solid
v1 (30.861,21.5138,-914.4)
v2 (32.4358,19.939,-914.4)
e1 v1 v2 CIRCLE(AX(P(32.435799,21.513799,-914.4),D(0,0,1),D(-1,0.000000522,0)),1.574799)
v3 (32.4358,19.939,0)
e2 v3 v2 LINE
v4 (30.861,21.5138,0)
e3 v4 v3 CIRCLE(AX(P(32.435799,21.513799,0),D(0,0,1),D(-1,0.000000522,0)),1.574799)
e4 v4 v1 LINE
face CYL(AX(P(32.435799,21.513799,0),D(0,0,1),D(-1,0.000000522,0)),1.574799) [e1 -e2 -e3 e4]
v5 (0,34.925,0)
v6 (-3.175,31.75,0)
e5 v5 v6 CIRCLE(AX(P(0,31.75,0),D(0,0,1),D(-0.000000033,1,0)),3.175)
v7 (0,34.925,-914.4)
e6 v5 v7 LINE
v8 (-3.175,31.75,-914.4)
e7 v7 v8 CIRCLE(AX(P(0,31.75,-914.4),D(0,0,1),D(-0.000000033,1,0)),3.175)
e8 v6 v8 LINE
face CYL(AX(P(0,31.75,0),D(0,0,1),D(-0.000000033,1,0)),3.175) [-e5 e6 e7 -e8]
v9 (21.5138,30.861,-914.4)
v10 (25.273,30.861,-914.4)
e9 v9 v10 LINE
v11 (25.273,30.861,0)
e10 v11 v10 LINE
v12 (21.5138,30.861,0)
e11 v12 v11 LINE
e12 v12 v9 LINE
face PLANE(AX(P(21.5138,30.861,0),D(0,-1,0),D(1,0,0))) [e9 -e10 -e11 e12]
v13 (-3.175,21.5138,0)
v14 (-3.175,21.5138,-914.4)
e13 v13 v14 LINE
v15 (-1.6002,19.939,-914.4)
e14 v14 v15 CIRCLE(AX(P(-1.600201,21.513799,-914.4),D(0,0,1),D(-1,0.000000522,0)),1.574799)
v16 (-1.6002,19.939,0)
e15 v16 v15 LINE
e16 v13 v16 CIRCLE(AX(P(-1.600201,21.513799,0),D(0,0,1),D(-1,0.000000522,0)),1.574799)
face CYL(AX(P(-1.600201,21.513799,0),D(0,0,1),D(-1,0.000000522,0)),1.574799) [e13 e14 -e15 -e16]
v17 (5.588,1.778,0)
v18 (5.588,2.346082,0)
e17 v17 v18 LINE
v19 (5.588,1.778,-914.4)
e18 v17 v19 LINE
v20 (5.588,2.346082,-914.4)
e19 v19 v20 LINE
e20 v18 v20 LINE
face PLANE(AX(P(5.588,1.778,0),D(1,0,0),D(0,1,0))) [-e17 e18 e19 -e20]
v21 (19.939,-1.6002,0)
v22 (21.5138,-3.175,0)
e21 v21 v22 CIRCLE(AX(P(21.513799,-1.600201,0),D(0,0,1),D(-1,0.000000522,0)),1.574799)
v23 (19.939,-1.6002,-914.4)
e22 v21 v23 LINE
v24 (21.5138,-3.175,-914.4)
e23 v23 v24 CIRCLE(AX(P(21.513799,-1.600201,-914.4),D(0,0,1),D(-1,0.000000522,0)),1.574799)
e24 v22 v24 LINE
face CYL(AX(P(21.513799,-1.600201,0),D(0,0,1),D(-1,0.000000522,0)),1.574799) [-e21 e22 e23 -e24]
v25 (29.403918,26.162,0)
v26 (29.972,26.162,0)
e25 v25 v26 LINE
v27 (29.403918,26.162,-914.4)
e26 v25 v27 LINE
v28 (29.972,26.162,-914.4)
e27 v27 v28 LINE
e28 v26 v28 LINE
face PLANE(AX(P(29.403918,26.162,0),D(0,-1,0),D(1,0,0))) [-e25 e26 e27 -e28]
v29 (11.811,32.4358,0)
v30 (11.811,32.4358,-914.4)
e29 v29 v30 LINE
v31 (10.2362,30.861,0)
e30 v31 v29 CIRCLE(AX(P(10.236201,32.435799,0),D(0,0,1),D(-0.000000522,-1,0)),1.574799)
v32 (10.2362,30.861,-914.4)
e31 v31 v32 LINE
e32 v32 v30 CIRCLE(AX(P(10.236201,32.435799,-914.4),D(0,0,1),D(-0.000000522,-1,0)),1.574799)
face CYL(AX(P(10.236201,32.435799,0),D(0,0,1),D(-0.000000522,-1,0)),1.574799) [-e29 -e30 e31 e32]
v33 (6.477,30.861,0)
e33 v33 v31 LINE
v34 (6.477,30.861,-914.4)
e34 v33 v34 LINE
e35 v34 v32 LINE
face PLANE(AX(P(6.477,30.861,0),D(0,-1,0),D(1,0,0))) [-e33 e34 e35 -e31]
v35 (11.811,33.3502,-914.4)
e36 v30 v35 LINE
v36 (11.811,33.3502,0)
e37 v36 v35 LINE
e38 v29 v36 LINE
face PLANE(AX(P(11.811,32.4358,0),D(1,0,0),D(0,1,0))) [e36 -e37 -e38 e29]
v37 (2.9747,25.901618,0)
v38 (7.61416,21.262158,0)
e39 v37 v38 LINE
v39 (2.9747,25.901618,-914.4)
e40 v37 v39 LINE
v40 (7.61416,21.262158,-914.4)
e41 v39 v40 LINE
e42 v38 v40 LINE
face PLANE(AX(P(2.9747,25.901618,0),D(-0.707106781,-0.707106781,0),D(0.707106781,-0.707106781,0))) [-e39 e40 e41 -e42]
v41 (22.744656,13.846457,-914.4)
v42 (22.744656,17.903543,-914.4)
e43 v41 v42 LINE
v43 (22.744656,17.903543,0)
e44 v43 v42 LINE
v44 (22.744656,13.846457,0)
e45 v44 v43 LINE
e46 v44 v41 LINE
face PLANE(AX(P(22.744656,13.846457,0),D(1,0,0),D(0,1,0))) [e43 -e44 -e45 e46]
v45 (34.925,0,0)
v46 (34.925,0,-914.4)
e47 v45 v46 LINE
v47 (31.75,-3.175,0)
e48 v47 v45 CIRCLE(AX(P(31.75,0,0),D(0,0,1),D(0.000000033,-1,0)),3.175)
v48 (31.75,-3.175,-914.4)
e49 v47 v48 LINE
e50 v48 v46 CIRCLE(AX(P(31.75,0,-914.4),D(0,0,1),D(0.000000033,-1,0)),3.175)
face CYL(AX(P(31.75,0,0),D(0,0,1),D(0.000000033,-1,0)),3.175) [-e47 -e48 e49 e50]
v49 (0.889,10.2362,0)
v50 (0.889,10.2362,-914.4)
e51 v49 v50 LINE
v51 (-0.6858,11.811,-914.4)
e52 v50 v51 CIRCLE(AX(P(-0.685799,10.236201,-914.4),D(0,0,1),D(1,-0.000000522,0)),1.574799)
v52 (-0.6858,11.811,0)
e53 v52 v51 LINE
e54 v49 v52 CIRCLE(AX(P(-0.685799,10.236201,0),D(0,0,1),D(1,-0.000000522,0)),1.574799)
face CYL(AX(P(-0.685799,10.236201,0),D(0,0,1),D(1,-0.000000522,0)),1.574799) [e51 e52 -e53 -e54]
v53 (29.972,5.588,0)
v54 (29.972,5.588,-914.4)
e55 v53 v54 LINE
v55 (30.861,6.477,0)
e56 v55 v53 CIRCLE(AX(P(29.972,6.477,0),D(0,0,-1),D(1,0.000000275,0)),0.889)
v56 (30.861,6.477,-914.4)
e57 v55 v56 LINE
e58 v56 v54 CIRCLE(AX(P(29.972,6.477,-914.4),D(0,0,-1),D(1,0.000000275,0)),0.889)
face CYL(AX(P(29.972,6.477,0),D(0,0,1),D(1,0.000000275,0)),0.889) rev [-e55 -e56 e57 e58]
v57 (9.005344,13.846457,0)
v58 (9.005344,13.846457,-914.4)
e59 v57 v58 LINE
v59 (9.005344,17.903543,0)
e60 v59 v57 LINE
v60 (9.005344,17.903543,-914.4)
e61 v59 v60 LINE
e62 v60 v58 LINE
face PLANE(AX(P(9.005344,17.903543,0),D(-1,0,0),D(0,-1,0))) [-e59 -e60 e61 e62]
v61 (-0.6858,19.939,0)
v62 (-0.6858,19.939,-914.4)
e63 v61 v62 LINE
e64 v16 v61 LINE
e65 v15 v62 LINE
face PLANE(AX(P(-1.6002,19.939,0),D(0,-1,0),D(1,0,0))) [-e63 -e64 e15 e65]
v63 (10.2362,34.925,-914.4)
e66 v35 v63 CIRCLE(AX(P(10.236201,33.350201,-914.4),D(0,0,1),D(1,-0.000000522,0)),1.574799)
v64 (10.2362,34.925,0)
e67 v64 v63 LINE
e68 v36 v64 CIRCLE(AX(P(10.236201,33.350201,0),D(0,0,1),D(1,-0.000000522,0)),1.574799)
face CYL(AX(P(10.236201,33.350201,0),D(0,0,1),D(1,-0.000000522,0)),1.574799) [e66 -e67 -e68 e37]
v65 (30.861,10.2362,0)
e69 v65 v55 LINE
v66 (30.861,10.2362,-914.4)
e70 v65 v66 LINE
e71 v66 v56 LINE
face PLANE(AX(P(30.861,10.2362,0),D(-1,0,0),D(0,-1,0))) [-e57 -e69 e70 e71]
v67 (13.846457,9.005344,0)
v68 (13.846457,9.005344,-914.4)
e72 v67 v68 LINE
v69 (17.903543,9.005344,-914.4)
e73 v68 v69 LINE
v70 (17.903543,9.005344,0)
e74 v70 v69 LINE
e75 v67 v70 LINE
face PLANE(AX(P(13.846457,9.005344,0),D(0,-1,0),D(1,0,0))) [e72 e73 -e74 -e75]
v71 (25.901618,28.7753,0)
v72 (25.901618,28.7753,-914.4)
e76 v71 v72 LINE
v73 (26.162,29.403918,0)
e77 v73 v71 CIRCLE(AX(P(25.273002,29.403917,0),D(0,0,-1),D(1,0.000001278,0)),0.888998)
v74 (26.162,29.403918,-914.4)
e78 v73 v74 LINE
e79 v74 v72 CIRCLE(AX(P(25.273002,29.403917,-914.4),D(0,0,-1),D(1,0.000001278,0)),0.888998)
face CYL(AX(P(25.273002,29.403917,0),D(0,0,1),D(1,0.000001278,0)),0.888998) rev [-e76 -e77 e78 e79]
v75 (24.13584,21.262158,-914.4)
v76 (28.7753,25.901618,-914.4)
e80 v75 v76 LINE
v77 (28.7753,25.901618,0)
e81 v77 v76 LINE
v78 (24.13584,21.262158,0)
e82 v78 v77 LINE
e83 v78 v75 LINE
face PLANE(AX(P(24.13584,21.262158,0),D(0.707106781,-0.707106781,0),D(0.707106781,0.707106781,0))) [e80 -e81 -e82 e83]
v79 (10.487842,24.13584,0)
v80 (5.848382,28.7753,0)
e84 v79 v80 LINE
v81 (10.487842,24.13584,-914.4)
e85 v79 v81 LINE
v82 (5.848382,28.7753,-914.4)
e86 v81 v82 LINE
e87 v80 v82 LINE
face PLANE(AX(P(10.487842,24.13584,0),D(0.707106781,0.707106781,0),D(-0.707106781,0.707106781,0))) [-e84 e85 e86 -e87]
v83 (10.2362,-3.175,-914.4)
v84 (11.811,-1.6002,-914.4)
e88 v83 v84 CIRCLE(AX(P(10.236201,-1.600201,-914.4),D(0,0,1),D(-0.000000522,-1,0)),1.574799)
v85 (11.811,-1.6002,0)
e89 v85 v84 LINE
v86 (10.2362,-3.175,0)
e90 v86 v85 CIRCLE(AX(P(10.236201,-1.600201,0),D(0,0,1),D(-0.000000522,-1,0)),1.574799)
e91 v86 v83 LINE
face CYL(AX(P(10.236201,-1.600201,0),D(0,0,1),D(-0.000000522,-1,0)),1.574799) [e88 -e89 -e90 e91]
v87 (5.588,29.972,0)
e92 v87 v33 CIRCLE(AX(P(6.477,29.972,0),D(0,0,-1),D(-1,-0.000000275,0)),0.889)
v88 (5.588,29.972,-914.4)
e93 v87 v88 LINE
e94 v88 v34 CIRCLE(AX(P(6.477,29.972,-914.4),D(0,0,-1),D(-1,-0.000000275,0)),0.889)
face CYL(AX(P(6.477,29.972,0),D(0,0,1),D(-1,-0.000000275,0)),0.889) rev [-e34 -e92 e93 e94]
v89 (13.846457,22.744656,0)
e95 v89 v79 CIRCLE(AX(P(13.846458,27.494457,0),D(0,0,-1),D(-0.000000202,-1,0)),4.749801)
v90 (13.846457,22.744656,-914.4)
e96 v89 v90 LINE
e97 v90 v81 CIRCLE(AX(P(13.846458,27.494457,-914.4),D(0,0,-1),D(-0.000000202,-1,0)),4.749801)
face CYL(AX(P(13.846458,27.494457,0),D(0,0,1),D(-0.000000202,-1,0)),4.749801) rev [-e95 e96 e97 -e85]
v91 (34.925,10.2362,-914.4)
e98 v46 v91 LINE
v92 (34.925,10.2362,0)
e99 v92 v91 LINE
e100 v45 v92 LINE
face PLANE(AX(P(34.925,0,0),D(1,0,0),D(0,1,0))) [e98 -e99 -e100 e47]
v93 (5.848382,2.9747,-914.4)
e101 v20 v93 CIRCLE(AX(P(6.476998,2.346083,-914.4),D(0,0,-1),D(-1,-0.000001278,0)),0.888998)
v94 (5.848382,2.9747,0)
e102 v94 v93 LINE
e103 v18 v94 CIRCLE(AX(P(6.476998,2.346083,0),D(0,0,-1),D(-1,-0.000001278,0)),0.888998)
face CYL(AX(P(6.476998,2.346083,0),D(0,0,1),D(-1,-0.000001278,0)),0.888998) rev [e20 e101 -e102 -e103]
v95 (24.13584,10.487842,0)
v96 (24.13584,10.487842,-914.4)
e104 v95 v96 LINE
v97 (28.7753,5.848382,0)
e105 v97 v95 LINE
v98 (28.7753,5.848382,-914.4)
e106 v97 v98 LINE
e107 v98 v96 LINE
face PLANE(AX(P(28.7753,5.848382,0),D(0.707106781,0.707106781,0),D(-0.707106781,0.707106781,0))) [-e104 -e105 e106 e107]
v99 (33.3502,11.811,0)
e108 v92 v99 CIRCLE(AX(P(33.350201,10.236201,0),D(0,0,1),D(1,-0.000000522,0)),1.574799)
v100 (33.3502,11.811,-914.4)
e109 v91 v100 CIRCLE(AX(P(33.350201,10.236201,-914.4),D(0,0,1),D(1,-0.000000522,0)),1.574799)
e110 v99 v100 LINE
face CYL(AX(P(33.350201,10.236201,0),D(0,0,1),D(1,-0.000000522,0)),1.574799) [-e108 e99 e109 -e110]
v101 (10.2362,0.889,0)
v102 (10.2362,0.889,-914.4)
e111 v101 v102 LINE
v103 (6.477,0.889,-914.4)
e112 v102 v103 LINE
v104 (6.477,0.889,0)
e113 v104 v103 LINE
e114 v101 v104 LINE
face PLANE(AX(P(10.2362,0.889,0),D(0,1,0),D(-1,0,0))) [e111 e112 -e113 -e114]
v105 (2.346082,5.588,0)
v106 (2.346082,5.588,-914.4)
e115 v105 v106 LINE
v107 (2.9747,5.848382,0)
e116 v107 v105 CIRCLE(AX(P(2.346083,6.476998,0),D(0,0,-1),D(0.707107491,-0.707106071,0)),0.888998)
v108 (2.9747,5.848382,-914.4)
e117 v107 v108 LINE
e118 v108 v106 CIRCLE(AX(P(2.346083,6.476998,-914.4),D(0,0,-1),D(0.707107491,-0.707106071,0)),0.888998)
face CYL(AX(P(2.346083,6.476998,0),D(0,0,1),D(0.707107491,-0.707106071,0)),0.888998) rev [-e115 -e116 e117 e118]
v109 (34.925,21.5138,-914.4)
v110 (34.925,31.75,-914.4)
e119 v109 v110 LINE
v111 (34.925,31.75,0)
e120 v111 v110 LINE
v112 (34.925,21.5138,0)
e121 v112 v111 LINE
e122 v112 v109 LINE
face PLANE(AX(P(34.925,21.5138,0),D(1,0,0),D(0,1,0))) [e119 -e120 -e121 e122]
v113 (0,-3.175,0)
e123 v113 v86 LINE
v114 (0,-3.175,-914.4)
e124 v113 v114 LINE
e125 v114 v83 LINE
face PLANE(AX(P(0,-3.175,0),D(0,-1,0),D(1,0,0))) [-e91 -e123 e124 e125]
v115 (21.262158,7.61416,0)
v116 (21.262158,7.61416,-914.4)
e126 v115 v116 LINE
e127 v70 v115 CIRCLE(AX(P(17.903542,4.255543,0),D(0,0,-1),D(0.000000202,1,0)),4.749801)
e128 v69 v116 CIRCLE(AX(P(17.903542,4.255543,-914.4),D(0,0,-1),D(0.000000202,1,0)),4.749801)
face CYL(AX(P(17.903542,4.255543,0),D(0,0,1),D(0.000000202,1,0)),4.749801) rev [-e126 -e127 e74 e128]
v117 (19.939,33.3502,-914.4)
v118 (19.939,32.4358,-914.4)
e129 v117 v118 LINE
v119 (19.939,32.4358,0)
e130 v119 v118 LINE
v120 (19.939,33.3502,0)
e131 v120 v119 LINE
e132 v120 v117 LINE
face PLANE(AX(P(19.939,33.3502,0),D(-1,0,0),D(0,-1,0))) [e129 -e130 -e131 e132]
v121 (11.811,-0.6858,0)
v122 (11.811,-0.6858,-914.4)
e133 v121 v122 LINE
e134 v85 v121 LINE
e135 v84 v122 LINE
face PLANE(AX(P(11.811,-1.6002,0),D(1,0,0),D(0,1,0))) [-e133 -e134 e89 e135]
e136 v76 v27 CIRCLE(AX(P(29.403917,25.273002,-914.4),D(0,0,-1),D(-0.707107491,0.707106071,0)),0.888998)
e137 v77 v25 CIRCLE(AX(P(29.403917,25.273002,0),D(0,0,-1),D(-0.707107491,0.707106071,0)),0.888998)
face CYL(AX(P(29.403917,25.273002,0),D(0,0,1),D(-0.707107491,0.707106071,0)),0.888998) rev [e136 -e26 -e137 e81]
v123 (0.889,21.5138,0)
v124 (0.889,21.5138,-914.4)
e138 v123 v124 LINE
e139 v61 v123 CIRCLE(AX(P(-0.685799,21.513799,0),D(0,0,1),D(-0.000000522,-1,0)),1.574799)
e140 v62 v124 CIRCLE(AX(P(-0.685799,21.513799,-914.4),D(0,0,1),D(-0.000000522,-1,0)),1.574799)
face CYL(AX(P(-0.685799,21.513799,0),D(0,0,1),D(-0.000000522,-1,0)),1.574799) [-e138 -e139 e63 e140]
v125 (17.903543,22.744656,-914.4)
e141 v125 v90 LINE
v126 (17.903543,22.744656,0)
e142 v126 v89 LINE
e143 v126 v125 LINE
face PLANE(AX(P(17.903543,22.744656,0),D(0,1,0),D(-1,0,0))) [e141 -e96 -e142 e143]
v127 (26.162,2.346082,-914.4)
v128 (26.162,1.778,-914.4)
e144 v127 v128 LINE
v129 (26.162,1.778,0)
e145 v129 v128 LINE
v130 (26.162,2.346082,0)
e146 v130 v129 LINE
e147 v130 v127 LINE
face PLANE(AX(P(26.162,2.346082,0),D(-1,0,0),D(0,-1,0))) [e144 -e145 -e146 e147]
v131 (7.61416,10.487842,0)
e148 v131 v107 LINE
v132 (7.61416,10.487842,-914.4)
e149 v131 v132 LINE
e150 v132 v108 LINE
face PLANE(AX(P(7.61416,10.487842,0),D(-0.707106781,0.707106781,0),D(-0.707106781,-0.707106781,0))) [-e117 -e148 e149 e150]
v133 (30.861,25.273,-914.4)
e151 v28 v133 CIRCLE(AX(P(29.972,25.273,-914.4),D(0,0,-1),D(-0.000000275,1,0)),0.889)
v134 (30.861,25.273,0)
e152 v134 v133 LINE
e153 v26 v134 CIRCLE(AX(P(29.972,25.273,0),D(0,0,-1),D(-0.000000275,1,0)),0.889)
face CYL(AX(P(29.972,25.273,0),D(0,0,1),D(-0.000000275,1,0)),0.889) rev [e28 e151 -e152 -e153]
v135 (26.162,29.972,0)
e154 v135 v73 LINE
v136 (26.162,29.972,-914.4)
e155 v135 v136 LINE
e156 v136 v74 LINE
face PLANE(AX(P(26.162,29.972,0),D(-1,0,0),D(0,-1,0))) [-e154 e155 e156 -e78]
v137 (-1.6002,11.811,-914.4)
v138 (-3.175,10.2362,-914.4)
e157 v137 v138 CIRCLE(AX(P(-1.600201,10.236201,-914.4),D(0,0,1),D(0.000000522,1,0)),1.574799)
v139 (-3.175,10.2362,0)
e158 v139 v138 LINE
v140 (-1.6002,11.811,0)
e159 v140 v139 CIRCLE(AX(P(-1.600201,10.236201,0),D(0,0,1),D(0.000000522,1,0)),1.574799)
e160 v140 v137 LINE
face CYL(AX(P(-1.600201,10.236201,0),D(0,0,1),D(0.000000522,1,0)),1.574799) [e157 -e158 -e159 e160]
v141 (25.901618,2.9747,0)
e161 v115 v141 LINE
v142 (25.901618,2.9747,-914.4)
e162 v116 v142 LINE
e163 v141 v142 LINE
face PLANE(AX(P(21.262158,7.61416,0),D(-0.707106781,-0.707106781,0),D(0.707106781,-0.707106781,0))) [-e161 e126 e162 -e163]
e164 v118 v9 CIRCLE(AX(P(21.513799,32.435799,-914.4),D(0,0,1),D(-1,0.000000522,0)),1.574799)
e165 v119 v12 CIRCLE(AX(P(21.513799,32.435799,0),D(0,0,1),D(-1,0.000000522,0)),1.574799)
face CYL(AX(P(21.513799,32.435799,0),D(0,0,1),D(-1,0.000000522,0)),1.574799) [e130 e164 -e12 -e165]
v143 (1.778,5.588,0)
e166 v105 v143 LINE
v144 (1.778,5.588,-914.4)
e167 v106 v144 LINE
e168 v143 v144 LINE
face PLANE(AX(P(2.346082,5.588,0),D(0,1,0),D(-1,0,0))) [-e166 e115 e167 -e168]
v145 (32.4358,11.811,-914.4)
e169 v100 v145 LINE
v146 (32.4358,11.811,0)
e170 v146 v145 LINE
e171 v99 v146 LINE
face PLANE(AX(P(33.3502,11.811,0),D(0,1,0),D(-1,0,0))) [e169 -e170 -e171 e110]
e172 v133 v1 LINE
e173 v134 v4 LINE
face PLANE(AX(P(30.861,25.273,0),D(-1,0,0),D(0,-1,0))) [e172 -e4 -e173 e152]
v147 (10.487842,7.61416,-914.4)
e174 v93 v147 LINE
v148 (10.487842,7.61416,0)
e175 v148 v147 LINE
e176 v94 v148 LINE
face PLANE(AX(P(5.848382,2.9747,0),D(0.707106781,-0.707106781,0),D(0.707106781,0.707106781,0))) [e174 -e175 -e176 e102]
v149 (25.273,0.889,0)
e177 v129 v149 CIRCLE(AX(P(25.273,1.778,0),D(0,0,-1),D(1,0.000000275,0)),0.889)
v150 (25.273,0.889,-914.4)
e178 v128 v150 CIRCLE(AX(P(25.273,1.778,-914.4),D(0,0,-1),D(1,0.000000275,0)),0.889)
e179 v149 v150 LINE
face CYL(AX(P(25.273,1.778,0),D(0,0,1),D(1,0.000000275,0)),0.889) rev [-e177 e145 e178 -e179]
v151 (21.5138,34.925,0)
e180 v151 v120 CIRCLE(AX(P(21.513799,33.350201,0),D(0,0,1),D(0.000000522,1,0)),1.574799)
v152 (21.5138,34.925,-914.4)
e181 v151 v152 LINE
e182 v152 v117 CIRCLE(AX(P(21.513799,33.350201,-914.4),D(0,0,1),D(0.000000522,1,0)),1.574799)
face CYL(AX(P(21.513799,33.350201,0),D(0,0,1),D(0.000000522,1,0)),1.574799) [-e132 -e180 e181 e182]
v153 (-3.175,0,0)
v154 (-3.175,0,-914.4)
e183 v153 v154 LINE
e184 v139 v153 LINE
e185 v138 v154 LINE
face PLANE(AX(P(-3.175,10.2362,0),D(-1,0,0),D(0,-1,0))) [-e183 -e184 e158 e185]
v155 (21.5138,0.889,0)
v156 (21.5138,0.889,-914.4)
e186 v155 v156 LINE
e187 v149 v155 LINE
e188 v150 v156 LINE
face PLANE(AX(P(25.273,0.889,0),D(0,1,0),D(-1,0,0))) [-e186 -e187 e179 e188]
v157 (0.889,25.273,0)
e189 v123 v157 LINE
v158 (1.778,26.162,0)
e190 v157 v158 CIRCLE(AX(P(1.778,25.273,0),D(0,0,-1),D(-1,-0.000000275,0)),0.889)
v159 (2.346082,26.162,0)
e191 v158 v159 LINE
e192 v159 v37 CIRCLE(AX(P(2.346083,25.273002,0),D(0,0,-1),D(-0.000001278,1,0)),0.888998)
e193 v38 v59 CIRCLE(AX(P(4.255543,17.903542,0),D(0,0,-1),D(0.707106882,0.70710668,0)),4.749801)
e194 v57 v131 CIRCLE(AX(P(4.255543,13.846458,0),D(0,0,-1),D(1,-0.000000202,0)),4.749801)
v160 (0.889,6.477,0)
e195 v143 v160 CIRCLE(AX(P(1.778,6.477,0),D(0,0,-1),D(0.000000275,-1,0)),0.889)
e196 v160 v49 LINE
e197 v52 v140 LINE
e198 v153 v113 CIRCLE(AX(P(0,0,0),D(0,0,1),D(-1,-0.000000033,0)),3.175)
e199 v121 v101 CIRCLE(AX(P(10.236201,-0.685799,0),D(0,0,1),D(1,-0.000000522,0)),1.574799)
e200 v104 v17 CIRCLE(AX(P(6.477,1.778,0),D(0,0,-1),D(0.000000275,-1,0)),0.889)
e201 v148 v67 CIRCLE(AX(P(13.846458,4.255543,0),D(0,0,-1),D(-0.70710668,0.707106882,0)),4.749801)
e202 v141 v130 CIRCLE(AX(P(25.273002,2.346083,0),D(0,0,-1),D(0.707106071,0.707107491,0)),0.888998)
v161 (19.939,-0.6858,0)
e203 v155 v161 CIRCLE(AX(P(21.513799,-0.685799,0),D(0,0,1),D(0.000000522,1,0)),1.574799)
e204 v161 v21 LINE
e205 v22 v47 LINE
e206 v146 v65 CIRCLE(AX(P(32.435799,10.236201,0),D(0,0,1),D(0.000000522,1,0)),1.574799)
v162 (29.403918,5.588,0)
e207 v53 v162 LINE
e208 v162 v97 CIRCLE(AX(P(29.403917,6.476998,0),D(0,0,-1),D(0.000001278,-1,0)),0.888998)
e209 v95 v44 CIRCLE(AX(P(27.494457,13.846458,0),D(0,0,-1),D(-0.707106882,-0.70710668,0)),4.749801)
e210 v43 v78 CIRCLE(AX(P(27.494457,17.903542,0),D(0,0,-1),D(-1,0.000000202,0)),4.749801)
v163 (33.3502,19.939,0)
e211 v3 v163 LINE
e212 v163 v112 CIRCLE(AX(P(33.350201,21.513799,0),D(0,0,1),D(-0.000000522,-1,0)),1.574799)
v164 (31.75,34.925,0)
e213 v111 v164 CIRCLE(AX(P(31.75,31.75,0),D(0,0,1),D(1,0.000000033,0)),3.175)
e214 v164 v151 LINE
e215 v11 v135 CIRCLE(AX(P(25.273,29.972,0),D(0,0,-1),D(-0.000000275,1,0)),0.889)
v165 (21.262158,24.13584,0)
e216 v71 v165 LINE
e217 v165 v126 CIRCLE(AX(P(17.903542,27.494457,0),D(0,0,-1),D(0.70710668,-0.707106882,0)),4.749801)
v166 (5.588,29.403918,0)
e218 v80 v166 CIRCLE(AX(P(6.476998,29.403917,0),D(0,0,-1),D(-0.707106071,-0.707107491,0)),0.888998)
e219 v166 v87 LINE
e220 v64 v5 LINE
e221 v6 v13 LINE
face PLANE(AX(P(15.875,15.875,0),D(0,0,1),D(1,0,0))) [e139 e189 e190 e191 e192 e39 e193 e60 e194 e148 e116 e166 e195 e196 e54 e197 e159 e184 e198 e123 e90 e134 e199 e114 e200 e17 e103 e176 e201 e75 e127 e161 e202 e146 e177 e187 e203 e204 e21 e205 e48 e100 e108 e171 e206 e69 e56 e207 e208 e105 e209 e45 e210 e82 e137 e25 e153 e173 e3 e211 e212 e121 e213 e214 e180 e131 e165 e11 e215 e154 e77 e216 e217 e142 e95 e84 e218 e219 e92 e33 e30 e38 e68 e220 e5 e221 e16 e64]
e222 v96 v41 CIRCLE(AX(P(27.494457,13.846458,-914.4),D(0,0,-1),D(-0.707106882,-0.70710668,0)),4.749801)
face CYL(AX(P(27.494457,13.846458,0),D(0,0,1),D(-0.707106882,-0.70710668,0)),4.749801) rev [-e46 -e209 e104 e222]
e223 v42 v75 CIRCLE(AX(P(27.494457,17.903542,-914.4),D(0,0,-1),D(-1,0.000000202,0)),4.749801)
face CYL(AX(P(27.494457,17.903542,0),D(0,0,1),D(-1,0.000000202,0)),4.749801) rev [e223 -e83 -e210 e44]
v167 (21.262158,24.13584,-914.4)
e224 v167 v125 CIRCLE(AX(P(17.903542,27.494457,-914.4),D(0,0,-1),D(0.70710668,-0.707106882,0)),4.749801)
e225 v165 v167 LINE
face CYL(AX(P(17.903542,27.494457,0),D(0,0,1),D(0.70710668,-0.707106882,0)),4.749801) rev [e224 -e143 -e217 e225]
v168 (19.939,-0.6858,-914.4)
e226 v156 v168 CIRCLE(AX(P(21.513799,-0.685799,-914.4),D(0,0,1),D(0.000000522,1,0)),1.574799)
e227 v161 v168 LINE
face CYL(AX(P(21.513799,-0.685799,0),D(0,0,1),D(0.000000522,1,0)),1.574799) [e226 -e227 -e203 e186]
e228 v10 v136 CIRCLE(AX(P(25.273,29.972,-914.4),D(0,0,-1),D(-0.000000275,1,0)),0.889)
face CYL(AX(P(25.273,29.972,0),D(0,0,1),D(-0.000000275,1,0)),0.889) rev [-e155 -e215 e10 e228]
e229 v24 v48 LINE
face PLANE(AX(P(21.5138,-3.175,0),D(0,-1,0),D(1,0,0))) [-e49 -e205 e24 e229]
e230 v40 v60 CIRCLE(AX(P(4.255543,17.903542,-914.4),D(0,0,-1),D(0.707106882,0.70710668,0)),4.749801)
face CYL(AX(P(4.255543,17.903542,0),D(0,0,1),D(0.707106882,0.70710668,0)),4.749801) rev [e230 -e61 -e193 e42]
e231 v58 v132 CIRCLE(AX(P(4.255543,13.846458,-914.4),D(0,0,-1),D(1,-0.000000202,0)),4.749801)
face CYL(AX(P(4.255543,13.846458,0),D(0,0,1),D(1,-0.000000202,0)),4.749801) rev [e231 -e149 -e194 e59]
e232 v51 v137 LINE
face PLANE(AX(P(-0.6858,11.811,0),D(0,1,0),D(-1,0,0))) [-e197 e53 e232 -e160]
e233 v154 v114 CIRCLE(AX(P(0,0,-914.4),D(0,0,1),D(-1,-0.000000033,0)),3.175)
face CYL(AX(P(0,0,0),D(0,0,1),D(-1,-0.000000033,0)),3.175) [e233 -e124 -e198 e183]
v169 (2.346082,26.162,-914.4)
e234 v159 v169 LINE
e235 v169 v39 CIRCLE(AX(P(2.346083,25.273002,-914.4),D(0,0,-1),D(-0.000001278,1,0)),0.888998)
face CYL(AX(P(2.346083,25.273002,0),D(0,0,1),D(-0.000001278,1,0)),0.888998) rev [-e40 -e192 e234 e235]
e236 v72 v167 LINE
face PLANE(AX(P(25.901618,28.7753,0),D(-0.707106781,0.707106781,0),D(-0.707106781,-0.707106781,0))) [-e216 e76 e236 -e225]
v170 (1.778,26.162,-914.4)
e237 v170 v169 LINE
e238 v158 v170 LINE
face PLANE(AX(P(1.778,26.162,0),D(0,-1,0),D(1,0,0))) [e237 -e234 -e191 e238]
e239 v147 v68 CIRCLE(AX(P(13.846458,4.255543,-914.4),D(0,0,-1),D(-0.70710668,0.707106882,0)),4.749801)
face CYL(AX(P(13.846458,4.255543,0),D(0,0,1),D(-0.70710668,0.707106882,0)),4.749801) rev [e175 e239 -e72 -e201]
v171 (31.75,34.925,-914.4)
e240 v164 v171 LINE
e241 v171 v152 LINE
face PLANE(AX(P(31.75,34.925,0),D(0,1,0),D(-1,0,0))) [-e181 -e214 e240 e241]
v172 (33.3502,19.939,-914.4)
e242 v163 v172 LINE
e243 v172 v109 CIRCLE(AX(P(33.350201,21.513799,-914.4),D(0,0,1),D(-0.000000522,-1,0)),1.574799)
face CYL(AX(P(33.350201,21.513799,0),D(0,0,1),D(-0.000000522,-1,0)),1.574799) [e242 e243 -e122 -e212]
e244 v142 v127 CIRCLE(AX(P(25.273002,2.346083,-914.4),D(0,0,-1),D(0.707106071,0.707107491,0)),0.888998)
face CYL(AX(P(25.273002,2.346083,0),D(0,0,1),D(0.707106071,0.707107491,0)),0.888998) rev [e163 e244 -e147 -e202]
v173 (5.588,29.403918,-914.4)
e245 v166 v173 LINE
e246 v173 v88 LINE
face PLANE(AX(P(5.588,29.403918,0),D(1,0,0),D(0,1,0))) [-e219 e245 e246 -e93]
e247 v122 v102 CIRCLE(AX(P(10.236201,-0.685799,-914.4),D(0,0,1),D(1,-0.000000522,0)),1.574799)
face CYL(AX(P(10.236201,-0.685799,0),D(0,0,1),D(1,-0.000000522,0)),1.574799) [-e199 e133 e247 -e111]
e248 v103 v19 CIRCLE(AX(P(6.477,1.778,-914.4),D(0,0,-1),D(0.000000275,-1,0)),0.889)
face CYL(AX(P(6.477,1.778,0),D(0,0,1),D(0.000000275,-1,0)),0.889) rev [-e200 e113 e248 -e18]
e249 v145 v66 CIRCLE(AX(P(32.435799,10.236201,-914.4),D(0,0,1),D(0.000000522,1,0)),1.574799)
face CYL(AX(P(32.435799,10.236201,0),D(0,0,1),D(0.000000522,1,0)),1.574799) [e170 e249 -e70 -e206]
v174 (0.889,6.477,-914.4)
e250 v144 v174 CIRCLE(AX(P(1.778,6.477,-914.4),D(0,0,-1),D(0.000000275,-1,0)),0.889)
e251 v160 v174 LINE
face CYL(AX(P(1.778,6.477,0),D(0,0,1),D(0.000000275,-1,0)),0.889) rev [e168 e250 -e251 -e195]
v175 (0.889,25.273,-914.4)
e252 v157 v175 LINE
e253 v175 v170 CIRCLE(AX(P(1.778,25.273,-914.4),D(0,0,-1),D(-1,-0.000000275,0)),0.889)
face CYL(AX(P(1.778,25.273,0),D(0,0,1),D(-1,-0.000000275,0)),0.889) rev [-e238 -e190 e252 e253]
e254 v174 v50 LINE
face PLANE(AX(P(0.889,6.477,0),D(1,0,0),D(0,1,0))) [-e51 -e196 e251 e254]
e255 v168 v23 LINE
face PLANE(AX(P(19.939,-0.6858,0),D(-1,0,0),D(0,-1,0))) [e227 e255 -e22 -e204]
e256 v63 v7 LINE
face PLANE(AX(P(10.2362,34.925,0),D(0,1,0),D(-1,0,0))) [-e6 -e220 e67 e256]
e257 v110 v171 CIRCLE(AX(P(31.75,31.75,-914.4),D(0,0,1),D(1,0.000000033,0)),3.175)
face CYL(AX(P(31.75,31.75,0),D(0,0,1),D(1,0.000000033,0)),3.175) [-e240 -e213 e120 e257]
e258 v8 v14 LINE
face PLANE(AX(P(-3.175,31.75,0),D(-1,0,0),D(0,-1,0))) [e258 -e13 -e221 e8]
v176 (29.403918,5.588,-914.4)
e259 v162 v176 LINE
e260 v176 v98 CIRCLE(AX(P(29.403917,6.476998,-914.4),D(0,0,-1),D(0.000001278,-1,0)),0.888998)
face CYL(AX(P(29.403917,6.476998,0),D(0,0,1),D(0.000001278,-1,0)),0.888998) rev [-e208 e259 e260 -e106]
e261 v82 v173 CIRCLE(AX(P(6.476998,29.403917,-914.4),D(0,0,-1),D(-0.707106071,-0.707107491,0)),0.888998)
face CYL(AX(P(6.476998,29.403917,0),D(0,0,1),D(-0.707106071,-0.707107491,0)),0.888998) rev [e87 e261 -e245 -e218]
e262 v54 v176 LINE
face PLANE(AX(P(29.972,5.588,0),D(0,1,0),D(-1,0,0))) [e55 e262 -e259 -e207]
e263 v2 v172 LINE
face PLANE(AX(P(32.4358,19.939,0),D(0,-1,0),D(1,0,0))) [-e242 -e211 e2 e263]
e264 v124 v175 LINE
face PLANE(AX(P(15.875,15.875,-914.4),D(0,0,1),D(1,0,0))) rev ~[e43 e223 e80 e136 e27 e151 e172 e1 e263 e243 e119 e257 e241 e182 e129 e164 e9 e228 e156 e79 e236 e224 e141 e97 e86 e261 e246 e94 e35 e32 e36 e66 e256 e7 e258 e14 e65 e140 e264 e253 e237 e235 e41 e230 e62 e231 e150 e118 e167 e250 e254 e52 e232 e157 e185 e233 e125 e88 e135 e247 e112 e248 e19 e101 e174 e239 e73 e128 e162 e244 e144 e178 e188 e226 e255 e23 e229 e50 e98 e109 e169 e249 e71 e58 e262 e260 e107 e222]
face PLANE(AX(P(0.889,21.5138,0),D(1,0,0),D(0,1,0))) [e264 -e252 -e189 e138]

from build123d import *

# Parameters (mm, degrees)
F1_DEPTH = 914.4


with BuildPart() as f1:
    # F0 (on Top) → F1 (new body)
    with BuildSketch(Plane.XY):
        with BuildLine():
            ThreePointArc((0, 34.925), (-2.245064, 33.995064), (-3.175, 31.75))
            Line((-3.175, 31.75), (-3.175, 21.5138))
            ThreePointArc((-3.175, 21.5138), (-2.713752, 20.400248), (-1.6002, 19.939))
            Line((-1.6002, 19.939), (-0.6858, 19.939))
            ThreePointArc((-0.6858, 19.939), (0.427752, 20.400248), (0.889, 21.5138))
            Line((0.889, 21.5138), (0.889, 25.273))
            ThreePointArc((0.889, 25.273), (1.149382, 25.901618), (1.778, 26.162))
            Line((1.778, 26.162), (2.346082, 26.162))
            ThreePointArc((2.346082, 26.162), (2.686288, 26.094329), (2.9747, 25.901618))
            Line((2.9747, 25.901618), (7.61416, 21.262158))
            ThreePointArc((7.61416, 21.262158), (8.643787, 19.721212), (9.005344, 17.903543))
            Line((9.005344, 17.903543), (9.005344, 13.846457))
            ThreePointArc((9.005344, 13.846457), (8.643787, 12.028788), (7.61416, 10.487842))
            Line((7.61416, 10.487842), (2.9747, 5.848382))
            ThreePointArc((2.9747, 5.848382), (2.686288, 5.655671), (2.346082, 5.588))
            Line((2.346082, 5.588), (1.778, 5.588))
            ThreePointArc((1.778, 5.588), (1.149382, 5.848382), (0.889, 6.477))
            Line((0.889, 6.477), (0.889, 10.2362))
            ThreePointArc((0.889, 10.2362), (0.427752, 11.349752), (-0.6858, 11.811))
            Line((-0.6858, 11.811), (-1.6002, 11.811))
            ThreePointArc((-1.6002, 11.811), (-2.713752, 11.349752), (-3.175, 10.2362))
            Line((-3.175, 10.2362), (-3.175, 0))
            ThreePointArc((-3.175, 0), (-2.245064, -2.245064), (0, -3.175))
            Line((0, -3.175), (10.2362, -3.175))
            ThreePointArc((10.2362, -3.175), (11.349752, -2.713752), (11.811, -1.6002))
            Line((11.811, -1.6002), (11.811, -0.6858))
            ThreePointArc((11.811, -0.6858), (11.349752, 0.427752), (10.2362, 0.889))
            Line((10.2362, 0.889), (6.477, 0.889))
            ThreePointArc((6.477, 0.889), (5.848382, 1.149382), (5.588, 1.778))
            Line((5.588, 1.778), (5.588, 2.346082))
            ThreePointArc((5.588, 2.346082), (5.655671, 2.686288), (5.848382, 2.9747))
            Line((5.848382, 2.9747), (10.487842, 7.61416))
            ThreePointArc((10.487842, 7.61416), (12.028788, 8.643787), (13.846457, 9.005344))
            Line((13.846457, 9.005344), (17.903543, 9.005344))
            ThreePointArc((17.903543, 9.005344), (19.721212, 8.643787), (21.262158, 7.61416))
            Line((21.262158, 7.61416), (25.901618, 2.9747))
            ThreePointArc((25.901618, 2.9747), (26.094329, 2.686288), (26.162, 2.346082))
            Line((26.162, 2.346082), (26.162, 1.778))
            ThreePointArc((26.162, 1.778), (25.901618, 1.149382), (25.273, 0.889))
            Line((25.273, 0.889), (21.5138, 0.889))
            ThreePointArc((21.5138, 0.889), (20.400248, 0.427752), (19.939, -0.6858))
            Line((19.939, -0.6858), (19.939, -1.6002))
            ThreePointArc((19.939, -1.6002), (20.400248, -2.713752), (21.5138, -3.175))
            Line((21.5138, -3.175), (31.75, -3.175))
            ThreePointArc((31.75, -3.175), (33.995064, -2.245064), (34.925, 0))
            Line((34.925, 0), (34.925, 10.2362))
            ThreePointArc((34.925, 10.2362), (34.463752, 11.349752), (33.3502, 11.811))
            Line((33.3502, 11.811), (32.4358, 11.811))
            ThreePointArc((32.4358, 11.811), (31.322248, 11.349752), (30.861, 10.2362))
            Line((30.861, 10.2362), (30.861, 6.477))
            ThreePointArc((30.861, 6.477), (30.600618, 5.848382), (29.972, 5.588))
            Line((29.972, 5.588), (29.403918, 5.588))
            ThreePointArc((29.403918, 5.588), (29.063712, 5.655671), (28.7753, 5.848382))
            Line((28.7753, 5.848382), (24.13584, 10.487842))
            ThreePointArc((24.13584, 10.487842), (23.106213, 12.028788), (22.744656, 13.846457))
            Line((22.744656, 13.846457), (22.744656, 17.903543))
            ThreePointArc((22.744656, 17.903543), (23.106213, 19.721212), (24.13584, 21.262158))
            Line((24.13584, 21.262158), (28.7753, 25.901618))
            ThreePointArc((28.7753, 25.901618), (29.063712, 26.094329), (29.403918, 26.162))
            Line((29.403918, 26.162), (29.972, 26.162))
            ThreePointArc((29.972, 26.162), (30.600618, 25.901618), (30.861, 25.273))
            Line((30.861, 25.273), (30.861, 21.5138))
            ThreePointArc((30.861, 21.5138), (31.322248, 20.400248), (32.4358, 19.939))
            Line((32.4358, 19.939), (33.3502, 19.939))
            ThreePointArc((33.3502, 19.939), (34.463752, 20.400248), (34.925, 21.5138))
            Line((34.925, 21.5138), (34.925, 31.75))
            ThreePointArc((34.925, 31.75), (33.995064, 33.995064), (31.75, 34.925))
            Line((31.75, 34.925), (21.5138, 34.925))
            ThreePointArc((21.5138, 34.925), (20.400248, 34.463752), (19.939, 33.3502))
            Line((19.939, 33.3502), (19.939, 32.4358))
            ThreePointArc((19.939, 32.4358), (20.400248, 31.322248), (21.5138, 30.861))
            Line((21.5138, 30.861), (25.273, 30.861))
            ThreePointArc((25.273, 30.861), (25.901618, 30.600618), (26.162, 29.972))
            Line((26.162, 29.972), (26.162, 29.403918))
            ThreePointArc((26.162, 29.403918), (26.094329, 29.063712), (25.901618, 28.7753))
            Line((25.901618, 28.7753), (21.262158, 24.13584))
            ThreePointArc((21.262158, 24.13584), (19.721212, 23.106213), (17.903543, 22.744656))
            Line((17.903543, 22.744656), (13.846457, 22.744656))
            ThreePointArc((13.846457, 22.744656), (12.028788, 23.106213), (10.487842, 24.13584))
            Line((10.487842, 24.13584), (5.848382, 28.7753))
            ThreePointArc((5.848382, 28.7753), (5.655671, 29.063712), (5.588, 29.403918))
            Line((5.588, 29.403918), (5.588, 29.972))
            ThreePointArc((5.588, 29.972), (5.848382, 30.600618), (6.477, 30.861))
            Line((6.477, 30.861), (10.2362, 30.861))
            ThreePointArc((10.2362, 30.861), (11.349752, 31.322248), (11.811, 32.4358))
            Line((11.811, 32.4358), (11.811, 33.3502))
            ThreePointArc((11.811, 33.3502), (11.349752, 34.463752), (10.2362, 34.925))
            Line((10.2362, 34.925), (0, 34.925))
        make_face()
    extrude(amount=-F1_DEPTH)


solid = f1.part
